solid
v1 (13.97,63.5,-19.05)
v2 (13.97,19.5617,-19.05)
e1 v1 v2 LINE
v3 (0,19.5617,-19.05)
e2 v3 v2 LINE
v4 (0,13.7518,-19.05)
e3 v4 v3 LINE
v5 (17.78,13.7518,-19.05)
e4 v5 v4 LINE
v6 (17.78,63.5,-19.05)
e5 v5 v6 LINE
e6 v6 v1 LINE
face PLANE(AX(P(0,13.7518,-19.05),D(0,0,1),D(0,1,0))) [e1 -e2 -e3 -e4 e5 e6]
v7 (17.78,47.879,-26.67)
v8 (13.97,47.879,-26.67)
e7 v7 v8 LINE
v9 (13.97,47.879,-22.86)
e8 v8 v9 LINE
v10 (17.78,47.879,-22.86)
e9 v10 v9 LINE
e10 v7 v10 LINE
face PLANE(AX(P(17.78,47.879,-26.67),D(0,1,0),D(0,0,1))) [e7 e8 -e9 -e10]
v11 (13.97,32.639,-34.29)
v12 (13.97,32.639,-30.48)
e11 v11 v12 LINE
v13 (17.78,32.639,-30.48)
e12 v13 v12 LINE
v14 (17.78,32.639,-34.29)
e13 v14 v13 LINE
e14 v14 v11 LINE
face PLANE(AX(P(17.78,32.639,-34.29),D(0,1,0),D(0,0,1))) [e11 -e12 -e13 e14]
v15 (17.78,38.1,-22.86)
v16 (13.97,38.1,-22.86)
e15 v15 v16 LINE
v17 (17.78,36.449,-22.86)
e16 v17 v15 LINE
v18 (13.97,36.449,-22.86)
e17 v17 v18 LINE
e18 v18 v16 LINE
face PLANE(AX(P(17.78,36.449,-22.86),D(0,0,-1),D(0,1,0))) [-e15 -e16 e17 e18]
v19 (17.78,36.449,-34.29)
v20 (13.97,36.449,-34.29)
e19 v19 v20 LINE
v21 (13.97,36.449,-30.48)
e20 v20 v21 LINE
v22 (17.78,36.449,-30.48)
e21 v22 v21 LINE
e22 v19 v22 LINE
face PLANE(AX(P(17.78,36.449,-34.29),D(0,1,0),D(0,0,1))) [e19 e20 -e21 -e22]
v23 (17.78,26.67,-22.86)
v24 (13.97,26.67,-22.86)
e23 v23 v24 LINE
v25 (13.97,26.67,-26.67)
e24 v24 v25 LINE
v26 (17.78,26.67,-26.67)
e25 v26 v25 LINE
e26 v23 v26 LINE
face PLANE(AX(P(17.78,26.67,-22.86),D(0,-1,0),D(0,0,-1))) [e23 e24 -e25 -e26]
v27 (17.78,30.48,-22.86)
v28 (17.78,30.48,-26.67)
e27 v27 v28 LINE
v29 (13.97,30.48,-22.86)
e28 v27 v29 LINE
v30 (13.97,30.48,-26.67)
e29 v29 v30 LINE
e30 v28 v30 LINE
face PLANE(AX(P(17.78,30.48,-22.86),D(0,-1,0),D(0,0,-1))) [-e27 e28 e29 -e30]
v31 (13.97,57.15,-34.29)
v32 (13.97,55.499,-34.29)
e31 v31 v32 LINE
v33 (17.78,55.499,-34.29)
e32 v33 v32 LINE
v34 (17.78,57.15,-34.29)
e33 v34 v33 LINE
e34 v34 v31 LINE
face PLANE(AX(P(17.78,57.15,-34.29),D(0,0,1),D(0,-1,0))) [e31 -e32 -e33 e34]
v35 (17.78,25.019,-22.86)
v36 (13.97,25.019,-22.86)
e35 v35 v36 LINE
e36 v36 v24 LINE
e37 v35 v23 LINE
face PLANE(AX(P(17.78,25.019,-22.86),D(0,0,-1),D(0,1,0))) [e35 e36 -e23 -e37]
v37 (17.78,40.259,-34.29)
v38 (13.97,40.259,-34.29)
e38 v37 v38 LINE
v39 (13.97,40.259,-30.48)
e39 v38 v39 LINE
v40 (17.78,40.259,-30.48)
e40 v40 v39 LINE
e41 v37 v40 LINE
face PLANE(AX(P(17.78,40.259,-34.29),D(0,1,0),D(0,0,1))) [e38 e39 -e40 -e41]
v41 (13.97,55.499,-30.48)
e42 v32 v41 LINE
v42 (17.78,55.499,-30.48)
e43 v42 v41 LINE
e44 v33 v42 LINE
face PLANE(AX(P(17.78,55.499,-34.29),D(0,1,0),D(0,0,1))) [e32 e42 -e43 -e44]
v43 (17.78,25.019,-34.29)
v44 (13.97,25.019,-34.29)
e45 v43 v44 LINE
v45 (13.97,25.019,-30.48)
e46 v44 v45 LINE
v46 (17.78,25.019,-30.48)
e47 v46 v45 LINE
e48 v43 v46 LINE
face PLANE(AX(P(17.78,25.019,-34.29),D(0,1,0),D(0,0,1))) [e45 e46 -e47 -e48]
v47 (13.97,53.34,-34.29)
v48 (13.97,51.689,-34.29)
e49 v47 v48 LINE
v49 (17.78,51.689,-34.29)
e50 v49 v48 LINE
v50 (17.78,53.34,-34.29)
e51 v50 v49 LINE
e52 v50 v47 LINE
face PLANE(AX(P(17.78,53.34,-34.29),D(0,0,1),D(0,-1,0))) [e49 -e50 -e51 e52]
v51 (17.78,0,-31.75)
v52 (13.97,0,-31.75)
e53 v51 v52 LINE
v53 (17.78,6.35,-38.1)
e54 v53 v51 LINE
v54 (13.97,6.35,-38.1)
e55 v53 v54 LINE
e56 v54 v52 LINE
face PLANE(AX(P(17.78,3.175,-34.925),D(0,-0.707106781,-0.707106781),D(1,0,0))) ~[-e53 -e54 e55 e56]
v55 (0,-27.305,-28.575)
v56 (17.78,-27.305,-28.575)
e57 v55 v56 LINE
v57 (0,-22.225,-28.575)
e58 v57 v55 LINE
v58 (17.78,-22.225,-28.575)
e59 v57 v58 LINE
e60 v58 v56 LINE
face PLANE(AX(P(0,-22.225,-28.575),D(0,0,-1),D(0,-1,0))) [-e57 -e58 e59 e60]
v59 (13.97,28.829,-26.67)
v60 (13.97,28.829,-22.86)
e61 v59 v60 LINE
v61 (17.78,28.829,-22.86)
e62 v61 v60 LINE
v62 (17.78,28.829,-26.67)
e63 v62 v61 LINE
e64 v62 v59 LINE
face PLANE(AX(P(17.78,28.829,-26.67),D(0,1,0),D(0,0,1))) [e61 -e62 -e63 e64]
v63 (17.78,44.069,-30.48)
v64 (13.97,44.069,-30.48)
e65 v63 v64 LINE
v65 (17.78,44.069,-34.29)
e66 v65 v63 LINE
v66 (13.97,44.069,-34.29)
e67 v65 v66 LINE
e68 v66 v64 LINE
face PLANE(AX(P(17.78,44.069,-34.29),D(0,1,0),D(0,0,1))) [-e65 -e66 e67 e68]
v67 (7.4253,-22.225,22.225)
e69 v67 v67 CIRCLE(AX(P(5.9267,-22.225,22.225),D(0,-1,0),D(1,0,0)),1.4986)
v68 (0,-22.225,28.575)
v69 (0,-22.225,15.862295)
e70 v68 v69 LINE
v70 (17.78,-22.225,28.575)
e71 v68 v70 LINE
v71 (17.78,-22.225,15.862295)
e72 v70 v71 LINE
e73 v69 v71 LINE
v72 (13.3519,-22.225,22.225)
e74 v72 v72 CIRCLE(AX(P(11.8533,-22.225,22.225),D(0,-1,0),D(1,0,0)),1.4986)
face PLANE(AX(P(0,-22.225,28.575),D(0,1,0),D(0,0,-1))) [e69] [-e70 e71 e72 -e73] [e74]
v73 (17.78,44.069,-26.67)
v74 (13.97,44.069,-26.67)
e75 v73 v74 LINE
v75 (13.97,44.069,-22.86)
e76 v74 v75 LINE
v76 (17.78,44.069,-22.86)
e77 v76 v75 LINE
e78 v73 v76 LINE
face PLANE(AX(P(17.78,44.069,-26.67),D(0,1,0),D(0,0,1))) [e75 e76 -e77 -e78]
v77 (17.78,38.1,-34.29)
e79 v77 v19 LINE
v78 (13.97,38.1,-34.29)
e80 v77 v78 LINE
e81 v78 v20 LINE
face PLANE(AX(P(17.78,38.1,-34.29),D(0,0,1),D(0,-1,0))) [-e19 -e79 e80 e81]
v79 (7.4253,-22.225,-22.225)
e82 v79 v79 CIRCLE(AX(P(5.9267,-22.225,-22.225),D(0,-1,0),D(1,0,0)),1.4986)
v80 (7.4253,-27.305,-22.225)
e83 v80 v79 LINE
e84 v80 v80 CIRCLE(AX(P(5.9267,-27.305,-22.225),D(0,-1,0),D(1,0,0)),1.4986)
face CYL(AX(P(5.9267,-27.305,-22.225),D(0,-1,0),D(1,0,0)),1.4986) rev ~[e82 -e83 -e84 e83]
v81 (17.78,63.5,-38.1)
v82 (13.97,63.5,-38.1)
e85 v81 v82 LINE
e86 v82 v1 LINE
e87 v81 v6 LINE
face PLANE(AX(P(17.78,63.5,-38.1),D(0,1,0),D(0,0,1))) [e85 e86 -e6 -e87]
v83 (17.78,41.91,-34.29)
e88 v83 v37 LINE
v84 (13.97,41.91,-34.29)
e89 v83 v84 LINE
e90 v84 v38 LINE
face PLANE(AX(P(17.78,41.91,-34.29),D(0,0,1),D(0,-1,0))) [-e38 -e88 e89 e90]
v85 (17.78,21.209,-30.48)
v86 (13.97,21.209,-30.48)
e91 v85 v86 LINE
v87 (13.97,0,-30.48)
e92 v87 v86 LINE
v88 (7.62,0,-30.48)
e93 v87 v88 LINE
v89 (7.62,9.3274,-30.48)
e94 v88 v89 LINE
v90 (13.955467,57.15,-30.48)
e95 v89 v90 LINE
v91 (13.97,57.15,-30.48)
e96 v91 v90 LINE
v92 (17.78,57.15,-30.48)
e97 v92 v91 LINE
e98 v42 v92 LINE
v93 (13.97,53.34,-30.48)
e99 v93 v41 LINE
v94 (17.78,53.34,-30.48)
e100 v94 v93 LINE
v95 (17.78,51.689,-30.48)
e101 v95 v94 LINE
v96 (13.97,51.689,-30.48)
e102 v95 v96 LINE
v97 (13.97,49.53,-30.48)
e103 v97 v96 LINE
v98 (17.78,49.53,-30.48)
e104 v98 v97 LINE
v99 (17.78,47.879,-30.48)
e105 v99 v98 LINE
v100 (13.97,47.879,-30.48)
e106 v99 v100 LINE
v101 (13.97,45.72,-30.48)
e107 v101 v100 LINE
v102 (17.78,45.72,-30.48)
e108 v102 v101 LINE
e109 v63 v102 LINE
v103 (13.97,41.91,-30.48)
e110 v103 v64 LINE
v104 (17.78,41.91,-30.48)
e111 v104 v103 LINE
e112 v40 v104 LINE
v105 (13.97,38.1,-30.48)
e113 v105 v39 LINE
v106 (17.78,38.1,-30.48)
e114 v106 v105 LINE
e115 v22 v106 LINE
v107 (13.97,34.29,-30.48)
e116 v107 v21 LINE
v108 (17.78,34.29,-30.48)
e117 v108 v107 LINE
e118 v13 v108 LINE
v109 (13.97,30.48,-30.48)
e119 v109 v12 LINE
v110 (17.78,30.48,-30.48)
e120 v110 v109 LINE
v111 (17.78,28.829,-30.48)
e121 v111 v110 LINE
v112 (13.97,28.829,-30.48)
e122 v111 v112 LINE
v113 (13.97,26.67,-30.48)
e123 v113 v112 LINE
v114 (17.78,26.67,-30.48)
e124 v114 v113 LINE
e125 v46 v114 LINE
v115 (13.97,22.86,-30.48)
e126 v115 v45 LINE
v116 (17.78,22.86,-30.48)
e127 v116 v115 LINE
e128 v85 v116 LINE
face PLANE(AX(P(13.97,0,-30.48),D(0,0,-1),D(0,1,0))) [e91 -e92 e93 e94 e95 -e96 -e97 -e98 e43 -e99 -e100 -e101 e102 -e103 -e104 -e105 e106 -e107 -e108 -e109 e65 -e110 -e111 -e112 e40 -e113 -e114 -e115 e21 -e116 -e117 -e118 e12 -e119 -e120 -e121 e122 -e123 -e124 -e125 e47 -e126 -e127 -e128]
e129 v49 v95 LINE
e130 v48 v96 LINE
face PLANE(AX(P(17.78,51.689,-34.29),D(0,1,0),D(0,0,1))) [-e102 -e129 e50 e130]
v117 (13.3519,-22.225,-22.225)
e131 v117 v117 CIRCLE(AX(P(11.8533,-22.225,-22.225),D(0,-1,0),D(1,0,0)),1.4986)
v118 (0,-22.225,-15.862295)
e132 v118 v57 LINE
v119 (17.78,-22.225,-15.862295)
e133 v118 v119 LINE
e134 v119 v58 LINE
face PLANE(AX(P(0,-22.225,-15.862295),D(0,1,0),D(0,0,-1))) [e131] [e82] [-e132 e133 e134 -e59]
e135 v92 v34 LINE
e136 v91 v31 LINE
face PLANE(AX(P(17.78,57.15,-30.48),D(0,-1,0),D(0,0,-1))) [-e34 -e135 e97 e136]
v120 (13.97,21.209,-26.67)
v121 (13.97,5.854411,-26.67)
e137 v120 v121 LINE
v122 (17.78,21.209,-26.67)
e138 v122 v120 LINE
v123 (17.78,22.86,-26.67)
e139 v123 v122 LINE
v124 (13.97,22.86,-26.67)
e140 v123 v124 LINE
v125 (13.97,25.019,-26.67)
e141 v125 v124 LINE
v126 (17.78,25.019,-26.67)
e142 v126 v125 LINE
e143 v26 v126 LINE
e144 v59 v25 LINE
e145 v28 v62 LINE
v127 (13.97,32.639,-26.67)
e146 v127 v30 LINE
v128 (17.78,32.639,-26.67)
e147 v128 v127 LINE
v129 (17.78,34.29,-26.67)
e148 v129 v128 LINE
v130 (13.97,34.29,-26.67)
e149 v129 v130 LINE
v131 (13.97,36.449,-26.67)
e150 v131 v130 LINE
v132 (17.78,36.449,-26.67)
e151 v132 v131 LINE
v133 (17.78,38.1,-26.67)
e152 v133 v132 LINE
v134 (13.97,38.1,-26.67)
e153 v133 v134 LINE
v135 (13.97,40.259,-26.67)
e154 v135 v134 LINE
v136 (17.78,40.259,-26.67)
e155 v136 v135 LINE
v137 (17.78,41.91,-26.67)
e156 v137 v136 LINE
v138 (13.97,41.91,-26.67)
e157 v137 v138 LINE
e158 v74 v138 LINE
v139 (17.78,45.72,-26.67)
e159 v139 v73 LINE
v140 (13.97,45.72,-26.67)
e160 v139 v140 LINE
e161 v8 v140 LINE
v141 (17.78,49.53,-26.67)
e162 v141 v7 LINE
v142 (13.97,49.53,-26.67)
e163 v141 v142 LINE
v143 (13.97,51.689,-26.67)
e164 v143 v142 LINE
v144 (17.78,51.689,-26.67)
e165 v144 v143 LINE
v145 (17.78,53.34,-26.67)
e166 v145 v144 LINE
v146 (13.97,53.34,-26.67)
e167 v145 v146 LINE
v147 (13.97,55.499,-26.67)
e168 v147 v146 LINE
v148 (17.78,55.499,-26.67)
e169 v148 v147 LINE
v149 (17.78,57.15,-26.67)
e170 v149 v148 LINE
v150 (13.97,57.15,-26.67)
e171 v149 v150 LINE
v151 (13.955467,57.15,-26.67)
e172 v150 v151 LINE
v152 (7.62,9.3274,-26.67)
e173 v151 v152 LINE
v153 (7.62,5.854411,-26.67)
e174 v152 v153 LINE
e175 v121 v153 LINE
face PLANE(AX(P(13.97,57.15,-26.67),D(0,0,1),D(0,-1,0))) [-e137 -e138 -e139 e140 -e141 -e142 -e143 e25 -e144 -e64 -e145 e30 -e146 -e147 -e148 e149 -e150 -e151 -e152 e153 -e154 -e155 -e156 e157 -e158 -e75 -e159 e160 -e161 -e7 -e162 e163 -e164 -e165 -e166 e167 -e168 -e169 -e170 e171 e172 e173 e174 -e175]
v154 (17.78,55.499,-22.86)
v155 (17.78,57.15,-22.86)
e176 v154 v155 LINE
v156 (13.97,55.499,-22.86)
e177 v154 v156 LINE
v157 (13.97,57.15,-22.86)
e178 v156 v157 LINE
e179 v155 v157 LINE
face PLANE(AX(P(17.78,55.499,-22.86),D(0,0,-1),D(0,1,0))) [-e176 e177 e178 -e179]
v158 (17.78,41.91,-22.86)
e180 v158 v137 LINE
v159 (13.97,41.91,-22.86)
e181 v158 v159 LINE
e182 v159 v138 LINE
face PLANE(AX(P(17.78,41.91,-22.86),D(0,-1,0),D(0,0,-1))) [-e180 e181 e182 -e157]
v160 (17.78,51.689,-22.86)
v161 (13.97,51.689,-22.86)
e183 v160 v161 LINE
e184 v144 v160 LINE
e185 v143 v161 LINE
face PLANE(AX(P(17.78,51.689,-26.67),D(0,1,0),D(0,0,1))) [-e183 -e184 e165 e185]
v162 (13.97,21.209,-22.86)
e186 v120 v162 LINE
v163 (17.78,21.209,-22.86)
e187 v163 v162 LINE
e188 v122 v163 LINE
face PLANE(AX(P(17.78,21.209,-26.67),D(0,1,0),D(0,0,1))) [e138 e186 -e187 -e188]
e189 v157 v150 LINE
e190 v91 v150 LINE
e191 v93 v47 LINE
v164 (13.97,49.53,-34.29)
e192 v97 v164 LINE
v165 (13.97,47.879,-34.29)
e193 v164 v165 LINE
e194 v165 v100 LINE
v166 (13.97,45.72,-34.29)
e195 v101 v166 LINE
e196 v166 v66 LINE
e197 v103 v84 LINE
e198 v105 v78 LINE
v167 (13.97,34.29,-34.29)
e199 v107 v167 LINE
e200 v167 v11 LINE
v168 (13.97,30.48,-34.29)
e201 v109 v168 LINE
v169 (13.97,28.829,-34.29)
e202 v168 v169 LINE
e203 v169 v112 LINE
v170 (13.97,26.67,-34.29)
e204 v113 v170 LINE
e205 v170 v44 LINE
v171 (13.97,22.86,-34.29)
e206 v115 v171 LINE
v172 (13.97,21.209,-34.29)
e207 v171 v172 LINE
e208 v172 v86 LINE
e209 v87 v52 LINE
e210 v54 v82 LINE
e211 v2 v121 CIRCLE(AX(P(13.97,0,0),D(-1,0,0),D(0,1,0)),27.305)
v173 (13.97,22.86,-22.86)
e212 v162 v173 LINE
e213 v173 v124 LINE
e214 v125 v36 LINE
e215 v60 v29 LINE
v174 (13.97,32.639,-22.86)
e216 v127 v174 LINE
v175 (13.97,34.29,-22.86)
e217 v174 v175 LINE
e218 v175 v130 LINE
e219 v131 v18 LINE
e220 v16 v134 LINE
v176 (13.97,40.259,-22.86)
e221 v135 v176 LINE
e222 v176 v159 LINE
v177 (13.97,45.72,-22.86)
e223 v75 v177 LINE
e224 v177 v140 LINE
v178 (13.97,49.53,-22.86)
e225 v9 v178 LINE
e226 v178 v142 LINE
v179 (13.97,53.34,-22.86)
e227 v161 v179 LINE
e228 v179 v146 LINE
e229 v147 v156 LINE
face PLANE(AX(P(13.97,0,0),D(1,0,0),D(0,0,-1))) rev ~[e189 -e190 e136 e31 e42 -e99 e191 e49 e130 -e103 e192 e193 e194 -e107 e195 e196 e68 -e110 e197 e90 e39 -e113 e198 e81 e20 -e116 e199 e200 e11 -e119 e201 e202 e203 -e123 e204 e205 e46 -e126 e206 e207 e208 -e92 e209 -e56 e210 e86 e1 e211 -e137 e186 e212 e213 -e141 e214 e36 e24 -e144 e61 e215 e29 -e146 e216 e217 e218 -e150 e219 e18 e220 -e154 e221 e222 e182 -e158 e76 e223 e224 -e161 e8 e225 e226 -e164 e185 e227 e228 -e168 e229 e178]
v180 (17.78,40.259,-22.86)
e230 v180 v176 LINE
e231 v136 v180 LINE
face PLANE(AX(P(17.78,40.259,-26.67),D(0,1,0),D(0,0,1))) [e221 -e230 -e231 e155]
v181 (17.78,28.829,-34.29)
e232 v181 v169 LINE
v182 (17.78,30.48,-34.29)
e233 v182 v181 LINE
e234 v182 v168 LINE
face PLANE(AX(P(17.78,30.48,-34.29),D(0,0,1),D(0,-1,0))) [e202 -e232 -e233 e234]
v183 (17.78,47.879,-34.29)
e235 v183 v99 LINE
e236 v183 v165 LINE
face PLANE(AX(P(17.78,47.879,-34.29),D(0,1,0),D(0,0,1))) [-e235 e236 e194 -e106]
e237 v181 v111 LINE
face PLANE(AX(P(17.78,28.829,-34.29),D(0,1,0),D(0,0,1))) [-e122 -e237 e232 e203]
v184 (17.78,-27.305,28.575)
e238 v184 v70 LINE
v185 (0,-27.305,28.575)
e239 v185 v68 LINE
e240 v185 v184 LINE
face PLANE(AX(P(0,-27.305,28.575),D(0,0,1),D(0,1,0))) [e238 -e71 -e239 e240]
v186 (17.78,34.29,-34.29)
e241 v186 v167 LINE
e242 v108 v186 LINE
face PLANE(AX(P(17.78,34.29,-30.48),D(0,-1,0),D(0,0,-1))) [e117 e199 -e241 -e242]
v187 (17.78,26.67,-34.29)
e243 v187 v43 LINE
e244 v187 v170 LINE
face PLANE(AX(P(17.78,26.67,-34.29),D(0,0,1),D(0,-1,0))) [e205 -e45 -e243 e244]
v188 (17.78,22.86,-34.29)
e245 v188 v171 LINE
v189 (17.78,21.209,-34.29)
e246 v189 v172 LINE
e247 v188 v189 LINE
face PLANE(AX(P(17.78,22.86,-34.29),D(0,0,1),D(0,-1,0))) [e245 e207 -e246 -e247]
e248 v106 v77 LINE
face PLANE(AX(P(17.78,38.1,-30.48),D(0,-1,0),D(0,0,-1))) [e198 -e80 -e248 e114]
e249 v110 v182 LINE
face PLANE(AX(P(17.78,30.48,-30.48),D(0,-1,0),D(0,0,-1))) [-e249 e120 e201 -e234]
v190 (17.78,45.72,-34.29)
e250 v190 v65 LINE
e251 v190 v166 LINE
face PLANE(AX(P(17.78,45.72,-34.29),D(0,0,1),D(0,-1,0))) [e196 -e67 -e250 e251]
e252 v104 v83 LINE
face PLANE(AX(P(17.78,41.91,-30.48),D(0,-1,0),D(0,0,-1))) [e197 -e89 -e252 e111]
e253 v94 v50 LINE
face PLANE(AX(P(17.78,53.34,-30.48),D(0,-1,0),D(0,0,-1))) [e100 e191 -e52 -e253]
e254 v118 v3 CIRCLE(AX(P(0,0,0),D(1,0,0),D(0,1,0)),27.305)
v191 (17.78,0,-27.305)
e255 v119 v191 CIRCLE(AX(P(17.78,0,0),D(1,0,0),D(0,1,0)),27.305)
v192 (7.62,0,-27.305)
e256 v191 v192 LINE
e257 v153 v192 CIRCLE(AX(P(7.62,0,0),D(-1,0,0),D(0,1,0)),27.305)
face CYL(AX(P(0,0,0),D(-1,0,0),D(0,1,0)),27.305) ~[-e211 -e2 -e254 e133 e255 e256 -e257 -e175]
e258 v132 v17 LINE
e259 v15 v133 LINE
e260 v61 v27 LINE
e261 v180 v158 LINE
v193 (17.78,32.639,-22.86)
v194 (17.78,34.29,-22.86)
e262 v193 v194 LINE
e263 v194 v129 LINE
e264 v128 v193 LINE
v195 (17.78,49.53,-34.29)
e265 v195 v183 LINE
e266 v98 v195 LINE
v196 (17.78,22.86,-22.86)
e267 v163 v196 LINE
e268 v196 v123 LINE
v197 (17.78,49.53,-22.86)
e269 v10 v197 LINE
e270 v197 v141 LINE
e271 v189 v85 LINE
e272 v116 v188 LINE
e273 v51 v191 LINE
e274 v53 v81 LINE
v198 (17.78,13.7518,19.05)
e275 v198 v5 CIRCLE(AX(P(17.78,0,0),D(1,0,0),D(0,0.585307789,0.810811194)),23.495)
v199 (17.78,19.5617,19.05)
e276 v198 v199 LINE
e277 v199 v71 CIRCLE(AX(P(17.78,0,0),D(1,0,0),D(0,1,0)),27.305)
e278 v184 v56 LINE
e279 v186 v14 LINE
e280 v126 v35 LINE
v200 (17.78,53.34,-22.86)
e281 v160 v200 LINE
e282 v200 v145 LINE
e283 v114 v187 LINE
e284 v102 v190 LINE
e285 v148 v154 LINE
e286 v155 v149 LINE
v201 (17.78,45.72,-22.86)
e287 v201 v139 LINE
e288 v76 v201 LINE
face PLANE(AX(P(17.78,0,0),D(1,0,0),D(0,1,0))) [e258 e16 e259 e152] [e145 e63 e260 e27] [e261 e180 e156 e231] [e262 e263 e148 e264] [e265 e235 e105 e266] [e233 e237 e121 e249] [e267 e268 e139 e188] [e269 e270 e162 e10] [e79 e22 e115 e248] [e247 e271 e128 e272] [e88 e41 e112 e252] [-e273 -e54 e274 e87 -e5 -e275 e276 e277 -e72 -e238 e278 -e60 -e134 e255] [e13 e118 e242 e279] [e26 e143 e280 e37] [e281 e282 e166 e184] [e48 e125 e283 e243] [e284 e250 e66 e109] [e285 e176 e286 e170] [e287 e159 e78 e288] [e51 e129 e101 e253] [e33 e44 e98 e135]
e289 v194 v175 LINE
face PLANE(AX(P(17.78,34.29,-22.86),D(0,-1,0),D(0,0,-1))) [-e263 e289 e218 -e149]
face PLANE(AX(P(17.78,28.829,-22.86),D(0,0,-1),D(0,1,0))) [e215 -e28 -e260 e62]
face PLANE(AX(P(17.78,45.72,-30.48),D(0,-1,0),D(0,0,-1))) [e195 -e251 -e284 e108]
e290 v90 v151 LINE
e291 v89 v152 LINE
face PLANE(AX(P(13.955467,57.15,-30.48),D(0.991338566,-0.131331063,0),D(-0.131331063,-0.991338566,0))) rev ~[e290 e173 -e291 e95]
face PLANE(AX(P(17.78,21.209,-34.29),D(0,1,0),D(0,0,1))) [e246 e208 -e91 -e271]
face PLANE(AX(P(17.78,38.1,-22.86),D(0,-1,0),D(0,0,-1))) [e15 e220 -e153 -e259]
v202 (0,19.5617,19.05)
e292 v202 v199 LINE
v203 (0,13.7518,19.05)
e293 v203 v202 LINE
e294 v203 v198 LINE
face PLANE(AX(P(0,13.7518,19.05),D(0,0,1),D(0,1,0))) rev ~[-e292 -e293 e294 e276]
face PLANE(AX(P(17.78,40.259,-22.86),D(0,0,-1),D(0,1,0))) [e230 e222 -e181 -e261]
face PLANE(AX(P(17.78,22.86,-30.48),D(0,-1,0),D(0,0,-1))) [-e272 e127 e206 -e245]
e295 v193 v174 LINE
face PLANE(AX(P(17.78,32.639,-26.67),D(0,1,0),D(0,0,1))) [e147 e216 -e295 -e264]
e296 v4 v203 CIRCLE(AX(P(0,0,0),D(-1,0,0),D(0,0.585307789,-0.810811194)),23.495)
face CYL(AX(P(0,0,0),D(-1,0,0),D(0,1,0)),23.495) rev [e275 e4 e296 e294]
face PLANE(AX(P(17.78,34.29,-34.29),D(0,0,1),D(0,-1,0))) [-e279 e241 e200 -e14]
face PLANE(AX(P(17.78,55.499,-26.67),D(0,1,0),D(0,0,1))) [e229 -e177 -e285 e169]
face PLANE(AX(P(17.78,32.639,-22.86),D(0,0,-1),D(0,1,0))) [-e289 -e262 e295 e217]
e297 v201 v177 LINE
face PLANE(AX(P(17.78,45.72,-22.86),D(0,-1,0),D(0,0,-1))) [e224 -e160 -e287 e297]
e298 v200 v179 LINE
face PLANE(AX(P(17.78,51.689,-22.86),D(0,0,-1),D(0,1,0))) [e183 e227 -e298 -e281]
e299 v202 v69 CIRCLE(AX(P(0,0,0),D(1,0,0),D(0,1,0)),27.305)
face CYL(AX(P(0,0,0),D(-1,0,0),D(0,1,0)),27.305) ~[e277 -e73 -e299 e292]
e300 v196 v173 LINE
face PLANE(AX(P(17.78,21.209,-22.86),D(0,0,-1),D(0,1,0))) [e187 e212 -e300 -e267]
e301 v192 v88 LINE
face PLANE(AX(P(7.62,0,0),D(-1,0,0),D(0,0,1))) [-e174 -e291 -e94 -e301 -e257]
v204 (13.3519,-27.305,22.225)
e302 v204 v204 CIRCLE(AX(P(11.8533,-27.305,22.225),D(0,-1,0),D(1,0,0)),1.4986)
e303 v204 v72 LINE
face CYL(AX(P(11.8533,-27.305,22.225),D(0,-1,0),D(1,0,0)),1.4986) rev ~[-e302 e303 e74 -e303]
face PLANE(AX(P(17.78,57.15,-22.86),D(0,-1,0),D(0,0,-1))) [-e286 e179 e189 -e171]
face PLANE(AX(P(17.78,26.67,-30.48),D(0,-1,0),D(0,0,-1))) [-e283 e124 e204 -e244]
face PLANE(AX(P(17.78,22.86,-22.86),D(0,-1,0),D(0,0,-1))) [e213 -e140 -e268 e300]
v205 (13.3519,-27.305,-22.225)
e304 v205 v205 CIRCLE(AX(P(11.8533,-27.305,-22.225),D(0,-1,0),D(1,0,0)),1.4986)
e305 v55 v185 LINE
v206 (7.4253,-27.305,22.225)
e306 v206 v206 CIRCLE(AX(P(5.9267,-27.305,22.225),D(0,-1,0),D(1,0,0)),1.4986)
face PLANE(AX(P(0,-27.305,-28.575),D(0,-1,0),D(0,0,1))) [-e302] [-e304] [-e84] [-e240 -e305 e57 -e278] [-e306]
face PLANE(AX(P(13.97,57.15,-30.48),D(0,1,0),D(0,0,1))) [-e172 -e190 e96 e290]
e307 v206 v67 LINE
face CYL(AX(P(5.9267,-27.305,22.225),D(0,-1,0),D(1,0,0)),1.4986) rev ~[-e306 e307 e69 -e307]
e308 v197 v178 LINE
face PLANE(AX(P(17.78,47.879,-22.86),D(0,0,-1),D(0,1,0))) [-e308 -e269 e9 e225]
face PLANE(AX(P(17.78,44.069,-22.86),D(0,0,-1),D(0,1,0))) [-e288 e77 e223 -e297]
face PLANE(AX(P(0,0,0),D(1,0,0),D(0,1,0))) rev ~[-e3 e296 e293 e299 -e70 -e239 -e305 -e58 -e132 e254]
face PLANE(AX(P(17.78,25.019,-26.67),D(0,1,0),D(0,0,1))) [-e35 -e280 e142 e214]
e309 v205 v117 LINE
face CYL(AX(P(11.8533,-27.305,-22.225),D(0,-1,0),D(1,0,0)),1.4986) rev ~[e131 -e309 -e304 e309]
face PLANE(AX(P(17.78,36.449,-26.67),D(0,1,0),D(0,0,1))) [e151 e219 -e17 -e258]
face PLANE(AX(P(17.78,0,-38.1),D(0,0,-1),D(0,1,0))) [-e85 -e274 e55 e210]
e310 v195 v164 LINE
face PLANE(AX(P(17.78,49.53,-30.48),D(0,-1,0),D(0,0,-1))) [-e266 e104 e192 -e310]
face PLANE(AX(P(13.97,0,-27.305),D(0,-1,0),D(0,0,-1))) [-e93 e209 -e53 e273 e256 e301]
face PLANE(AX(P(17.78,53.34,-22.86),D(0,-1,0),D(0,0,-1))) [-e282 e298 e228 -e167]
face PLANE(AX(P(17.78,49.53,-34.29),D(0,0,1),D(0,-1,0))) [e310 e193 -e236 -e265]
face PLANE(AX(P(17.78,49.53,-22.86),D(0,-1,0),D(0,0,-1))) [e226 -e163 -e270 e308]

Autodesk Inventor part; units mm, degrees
ref_plane "YZ Plane" through (0, 0, 0) normal (1, 0, 0) x (0, 1, 0)
ref_plane "XZ Plane" through (0, 0, 0) normal (0, 1, 0) x (-1, 0, 0)
ref_plane "XY Plane" through (0, 0, 0) normal (0, 0, 1) x (1, 0, 0)
sketch "Sketch1" plane through (0, 0, 0) normal (1, 0, 0) x (0, 1, 0)
  circle A0 centre (0, 0) radius 23.495
  circle A1 centre (0, 0) radius 27.305
  line L0 (-27.305, 28.575) -> (-22.225, 28.575)
  line L1 (-22.225, 28.575) -> (-22.225, -28.575)
  line L2 (-22.225, -28.575) -> (-27.305, -28.575)
  line L3 (-27.305, -28.575) -> (-27.305, 28.575)
  line L4 (13.7518, 19.05) -> (13.7518, -19.05)
  line L5 (13.7518, 19.05) -> (19.5617, 19.05)
  line L6 (13.7518, -19.05) -> (19.5617, -19.05)
  point P0 (-22.225, 15.8623)
  point P1 (-22.225, -15.8623)
  dimension "d0" = 46.99
  dimension "d1" = 54.61
  dimension "d2" = 5.08
  dimension "d5" = 38.1
  dimension "d11" = 57.15
  dimension "d12" = 28.575
extrude "Extrusion1" add sketch "Sketch1" along normal blind 17.78 contours A0 L1 A1 L5 | L6 A1 L1 A0 | A0 L1 A1 | A1 L3 L0 L1 | L1 L2 L3 A1
sketch "Sketch2" plane through (17.78, 0, 0) normal (1, 0, 0) x (0, 0, -1)
  line L0 (19.05, 0) -> (38.1, 0)
  line L1 (38.1, 0) -> (38.1, 63.5)
  line L2 (38.1, 63.5) -> (19.05, 63.5)
  line L3 (19.05, 63.5) -> (19.05, 0)
  circle A0 centre (0, 0) radius 23.495
  circle A1 centre (0, 0) radius 27.305
  line L4 (19.05, 19.5617) -> (19.05, 13.7518) projected
  point P0 (19.05, 13.7518)
  point P1 (23.495, 0)
  dimension "d6" = 19.05
  dimension "d7" = 63.5
  dimension "d10" = 0
extrude "Extrusion2" add sketch "Sketch2" against normal blind 3.81 contours A0 L3 A1 L0 | A1 L3 L2 L1 L0 picked at (25.8542, 1.8052)
sketch "Sketch3" plane through (0, -27.305, -28.575) normal (0, -1, 0) x (1, 0, 0)
  circle A0 centre (11.8533, 50.8) radius 1.4986
  circle A1 centre (11.8533, 6.35) radius 1.4986
  line L0 (0, 57.15) -> (17.78, 57.15) projected
  line L1 (0, 0) -> (17.78, 0) projected
  line L2 (17.78, 57.15) -> (17.78, 0) projected
  circle A2 centre (5.9267, 6.35) radius 1.4986
  circle A3 centre (5.9267, 50.8) radius 1.4986
  line L3 (0, 57.15) -> (0, 0) projected
  point P0 (0, 28.575)
  dimension "d13" = 2.9972
  dimension "d14" = 2.9972
  dimension "d15" = 0
  dimension "d16" = 6.35
  dimension "d17" = 6.35
  dimension "d18" = 5.9267
  dimension "d32" = 2.9972
  dimension "d33" = 2.9972
  dimension "d34" = 5.9267
  dimension "d35" = 44.45
  dimension "d36" = 5.9267
extrude "Extrusion3" cut sketch "Sketch3" against normal blind 6.35 contours A0 | A1 | A2 | A3
sketch "Sketch4" plane through (13.97, 0, 0) normal (-1, 0, 0) x (0, 0, 1)
  line L0 (-30.48, 57.15) -> (-26.67, 57.15)
  line L1 (-26.67, 57.15) -> (-26.67, 0)
  line L2 (-26.67, 0) -> (-30.48, 0)
  line L3 (-30.48, 0) -> (-30.48, 57.15)
  line L4 (-38.1, 63.5) -> (-38.1, 0) projected
  line L5 (-19.05, 63.5) -> (-38.1, 63.5) projected
  line L6 (-38.1, 0) -> (-27.305, 0) projected
  point P0 (0, 0)
  dimension "d21" = 3.81
  dimension "d22" = 7.62
  dimension "d23" = 6.35
  dimension "d24" = 0
extrude "Extrusion4" add sketch "Sketch4" along normal blind 6.35
sketch "Sketch5" plane through (13.97, 0, -30.48) normal (0, 0, -1) x (-1, 0, 0)
  line L0 (0, 63.5) -> (0, 0) projected
  line L1 (0, 57.2597) -> (6.35, 9.3274)
  line L2 (6.35, 57.15) -> (6.35, 0) projected
  line L3 (-3.81, 0) -> (0, 0) projected
  line L4 (0, 0) -> (6.35, 0)
  line L5 (6.35, 0) -> (6.35, 57.15)
  line L6 (6.35, 57.15) -> (0, 57.15)
  line L7 (0, 57.15) -> (0, 0)
  point P0 (13.97, 0)
  point P1 (0.0145, 57.15)
extrude "Extrusion5" cut sketch "Sketch5" against normal blind 3.81 contours L6 L2 L1
chamfer "Chamfer1" distance 6.35 angle 45 1 edges at (15.875, 0, -38.1)
sketch "Sketch6" plane through (17.78, 0, 0) normal (1, 0, 0) x (0, 0, -1)
  line L0 (22.86, 57.15) -> (26.67, 57.15)
  line L1 (26.67, 57.15) -> (26.67, 55.499)
  line L2 (26.67, 55.499) -> (22.86, 55.499)
  line L3 (22.86, 55.499) -> (22.86, 57.15)
  line L4 (30.48, 57.15) -> (34.29, 57.15)
  line L5 (34.29, 57.15) -> (34.29, 55.499)
  line L6 (34.29, 55.499) -> (30.48, 55.499)
  line L7 (30.48, 55.499) -> (30.48, 57.15)
  line L8 (38.1, 63.5) -> (19.05, 63.5) projected
  line L9 (19.05, 63.5) -> (19.05, 13.7518) projected
  line L10 (38.1, 6.35) -> (38.1, 63.5) projected
  point P0 (0, 0)
  dimension "d37" = 1.651
  dimension "d38" = 6.35
  dimension "d39" = 3.81
  dimension "d40" = 3.81
  dimension "d41" = 3.81
  dimension "d42" = 3.81
  dimension "d43" = 3.81
extrude "Extrusion6" cut sketch "Sketch6" against normal blind 6.35
pattern_linear "Rectangular Pattern1" count 10 spacing 3.81 along (0, -1, 0) of "Extrusion6"
properties part number "LockMount"
